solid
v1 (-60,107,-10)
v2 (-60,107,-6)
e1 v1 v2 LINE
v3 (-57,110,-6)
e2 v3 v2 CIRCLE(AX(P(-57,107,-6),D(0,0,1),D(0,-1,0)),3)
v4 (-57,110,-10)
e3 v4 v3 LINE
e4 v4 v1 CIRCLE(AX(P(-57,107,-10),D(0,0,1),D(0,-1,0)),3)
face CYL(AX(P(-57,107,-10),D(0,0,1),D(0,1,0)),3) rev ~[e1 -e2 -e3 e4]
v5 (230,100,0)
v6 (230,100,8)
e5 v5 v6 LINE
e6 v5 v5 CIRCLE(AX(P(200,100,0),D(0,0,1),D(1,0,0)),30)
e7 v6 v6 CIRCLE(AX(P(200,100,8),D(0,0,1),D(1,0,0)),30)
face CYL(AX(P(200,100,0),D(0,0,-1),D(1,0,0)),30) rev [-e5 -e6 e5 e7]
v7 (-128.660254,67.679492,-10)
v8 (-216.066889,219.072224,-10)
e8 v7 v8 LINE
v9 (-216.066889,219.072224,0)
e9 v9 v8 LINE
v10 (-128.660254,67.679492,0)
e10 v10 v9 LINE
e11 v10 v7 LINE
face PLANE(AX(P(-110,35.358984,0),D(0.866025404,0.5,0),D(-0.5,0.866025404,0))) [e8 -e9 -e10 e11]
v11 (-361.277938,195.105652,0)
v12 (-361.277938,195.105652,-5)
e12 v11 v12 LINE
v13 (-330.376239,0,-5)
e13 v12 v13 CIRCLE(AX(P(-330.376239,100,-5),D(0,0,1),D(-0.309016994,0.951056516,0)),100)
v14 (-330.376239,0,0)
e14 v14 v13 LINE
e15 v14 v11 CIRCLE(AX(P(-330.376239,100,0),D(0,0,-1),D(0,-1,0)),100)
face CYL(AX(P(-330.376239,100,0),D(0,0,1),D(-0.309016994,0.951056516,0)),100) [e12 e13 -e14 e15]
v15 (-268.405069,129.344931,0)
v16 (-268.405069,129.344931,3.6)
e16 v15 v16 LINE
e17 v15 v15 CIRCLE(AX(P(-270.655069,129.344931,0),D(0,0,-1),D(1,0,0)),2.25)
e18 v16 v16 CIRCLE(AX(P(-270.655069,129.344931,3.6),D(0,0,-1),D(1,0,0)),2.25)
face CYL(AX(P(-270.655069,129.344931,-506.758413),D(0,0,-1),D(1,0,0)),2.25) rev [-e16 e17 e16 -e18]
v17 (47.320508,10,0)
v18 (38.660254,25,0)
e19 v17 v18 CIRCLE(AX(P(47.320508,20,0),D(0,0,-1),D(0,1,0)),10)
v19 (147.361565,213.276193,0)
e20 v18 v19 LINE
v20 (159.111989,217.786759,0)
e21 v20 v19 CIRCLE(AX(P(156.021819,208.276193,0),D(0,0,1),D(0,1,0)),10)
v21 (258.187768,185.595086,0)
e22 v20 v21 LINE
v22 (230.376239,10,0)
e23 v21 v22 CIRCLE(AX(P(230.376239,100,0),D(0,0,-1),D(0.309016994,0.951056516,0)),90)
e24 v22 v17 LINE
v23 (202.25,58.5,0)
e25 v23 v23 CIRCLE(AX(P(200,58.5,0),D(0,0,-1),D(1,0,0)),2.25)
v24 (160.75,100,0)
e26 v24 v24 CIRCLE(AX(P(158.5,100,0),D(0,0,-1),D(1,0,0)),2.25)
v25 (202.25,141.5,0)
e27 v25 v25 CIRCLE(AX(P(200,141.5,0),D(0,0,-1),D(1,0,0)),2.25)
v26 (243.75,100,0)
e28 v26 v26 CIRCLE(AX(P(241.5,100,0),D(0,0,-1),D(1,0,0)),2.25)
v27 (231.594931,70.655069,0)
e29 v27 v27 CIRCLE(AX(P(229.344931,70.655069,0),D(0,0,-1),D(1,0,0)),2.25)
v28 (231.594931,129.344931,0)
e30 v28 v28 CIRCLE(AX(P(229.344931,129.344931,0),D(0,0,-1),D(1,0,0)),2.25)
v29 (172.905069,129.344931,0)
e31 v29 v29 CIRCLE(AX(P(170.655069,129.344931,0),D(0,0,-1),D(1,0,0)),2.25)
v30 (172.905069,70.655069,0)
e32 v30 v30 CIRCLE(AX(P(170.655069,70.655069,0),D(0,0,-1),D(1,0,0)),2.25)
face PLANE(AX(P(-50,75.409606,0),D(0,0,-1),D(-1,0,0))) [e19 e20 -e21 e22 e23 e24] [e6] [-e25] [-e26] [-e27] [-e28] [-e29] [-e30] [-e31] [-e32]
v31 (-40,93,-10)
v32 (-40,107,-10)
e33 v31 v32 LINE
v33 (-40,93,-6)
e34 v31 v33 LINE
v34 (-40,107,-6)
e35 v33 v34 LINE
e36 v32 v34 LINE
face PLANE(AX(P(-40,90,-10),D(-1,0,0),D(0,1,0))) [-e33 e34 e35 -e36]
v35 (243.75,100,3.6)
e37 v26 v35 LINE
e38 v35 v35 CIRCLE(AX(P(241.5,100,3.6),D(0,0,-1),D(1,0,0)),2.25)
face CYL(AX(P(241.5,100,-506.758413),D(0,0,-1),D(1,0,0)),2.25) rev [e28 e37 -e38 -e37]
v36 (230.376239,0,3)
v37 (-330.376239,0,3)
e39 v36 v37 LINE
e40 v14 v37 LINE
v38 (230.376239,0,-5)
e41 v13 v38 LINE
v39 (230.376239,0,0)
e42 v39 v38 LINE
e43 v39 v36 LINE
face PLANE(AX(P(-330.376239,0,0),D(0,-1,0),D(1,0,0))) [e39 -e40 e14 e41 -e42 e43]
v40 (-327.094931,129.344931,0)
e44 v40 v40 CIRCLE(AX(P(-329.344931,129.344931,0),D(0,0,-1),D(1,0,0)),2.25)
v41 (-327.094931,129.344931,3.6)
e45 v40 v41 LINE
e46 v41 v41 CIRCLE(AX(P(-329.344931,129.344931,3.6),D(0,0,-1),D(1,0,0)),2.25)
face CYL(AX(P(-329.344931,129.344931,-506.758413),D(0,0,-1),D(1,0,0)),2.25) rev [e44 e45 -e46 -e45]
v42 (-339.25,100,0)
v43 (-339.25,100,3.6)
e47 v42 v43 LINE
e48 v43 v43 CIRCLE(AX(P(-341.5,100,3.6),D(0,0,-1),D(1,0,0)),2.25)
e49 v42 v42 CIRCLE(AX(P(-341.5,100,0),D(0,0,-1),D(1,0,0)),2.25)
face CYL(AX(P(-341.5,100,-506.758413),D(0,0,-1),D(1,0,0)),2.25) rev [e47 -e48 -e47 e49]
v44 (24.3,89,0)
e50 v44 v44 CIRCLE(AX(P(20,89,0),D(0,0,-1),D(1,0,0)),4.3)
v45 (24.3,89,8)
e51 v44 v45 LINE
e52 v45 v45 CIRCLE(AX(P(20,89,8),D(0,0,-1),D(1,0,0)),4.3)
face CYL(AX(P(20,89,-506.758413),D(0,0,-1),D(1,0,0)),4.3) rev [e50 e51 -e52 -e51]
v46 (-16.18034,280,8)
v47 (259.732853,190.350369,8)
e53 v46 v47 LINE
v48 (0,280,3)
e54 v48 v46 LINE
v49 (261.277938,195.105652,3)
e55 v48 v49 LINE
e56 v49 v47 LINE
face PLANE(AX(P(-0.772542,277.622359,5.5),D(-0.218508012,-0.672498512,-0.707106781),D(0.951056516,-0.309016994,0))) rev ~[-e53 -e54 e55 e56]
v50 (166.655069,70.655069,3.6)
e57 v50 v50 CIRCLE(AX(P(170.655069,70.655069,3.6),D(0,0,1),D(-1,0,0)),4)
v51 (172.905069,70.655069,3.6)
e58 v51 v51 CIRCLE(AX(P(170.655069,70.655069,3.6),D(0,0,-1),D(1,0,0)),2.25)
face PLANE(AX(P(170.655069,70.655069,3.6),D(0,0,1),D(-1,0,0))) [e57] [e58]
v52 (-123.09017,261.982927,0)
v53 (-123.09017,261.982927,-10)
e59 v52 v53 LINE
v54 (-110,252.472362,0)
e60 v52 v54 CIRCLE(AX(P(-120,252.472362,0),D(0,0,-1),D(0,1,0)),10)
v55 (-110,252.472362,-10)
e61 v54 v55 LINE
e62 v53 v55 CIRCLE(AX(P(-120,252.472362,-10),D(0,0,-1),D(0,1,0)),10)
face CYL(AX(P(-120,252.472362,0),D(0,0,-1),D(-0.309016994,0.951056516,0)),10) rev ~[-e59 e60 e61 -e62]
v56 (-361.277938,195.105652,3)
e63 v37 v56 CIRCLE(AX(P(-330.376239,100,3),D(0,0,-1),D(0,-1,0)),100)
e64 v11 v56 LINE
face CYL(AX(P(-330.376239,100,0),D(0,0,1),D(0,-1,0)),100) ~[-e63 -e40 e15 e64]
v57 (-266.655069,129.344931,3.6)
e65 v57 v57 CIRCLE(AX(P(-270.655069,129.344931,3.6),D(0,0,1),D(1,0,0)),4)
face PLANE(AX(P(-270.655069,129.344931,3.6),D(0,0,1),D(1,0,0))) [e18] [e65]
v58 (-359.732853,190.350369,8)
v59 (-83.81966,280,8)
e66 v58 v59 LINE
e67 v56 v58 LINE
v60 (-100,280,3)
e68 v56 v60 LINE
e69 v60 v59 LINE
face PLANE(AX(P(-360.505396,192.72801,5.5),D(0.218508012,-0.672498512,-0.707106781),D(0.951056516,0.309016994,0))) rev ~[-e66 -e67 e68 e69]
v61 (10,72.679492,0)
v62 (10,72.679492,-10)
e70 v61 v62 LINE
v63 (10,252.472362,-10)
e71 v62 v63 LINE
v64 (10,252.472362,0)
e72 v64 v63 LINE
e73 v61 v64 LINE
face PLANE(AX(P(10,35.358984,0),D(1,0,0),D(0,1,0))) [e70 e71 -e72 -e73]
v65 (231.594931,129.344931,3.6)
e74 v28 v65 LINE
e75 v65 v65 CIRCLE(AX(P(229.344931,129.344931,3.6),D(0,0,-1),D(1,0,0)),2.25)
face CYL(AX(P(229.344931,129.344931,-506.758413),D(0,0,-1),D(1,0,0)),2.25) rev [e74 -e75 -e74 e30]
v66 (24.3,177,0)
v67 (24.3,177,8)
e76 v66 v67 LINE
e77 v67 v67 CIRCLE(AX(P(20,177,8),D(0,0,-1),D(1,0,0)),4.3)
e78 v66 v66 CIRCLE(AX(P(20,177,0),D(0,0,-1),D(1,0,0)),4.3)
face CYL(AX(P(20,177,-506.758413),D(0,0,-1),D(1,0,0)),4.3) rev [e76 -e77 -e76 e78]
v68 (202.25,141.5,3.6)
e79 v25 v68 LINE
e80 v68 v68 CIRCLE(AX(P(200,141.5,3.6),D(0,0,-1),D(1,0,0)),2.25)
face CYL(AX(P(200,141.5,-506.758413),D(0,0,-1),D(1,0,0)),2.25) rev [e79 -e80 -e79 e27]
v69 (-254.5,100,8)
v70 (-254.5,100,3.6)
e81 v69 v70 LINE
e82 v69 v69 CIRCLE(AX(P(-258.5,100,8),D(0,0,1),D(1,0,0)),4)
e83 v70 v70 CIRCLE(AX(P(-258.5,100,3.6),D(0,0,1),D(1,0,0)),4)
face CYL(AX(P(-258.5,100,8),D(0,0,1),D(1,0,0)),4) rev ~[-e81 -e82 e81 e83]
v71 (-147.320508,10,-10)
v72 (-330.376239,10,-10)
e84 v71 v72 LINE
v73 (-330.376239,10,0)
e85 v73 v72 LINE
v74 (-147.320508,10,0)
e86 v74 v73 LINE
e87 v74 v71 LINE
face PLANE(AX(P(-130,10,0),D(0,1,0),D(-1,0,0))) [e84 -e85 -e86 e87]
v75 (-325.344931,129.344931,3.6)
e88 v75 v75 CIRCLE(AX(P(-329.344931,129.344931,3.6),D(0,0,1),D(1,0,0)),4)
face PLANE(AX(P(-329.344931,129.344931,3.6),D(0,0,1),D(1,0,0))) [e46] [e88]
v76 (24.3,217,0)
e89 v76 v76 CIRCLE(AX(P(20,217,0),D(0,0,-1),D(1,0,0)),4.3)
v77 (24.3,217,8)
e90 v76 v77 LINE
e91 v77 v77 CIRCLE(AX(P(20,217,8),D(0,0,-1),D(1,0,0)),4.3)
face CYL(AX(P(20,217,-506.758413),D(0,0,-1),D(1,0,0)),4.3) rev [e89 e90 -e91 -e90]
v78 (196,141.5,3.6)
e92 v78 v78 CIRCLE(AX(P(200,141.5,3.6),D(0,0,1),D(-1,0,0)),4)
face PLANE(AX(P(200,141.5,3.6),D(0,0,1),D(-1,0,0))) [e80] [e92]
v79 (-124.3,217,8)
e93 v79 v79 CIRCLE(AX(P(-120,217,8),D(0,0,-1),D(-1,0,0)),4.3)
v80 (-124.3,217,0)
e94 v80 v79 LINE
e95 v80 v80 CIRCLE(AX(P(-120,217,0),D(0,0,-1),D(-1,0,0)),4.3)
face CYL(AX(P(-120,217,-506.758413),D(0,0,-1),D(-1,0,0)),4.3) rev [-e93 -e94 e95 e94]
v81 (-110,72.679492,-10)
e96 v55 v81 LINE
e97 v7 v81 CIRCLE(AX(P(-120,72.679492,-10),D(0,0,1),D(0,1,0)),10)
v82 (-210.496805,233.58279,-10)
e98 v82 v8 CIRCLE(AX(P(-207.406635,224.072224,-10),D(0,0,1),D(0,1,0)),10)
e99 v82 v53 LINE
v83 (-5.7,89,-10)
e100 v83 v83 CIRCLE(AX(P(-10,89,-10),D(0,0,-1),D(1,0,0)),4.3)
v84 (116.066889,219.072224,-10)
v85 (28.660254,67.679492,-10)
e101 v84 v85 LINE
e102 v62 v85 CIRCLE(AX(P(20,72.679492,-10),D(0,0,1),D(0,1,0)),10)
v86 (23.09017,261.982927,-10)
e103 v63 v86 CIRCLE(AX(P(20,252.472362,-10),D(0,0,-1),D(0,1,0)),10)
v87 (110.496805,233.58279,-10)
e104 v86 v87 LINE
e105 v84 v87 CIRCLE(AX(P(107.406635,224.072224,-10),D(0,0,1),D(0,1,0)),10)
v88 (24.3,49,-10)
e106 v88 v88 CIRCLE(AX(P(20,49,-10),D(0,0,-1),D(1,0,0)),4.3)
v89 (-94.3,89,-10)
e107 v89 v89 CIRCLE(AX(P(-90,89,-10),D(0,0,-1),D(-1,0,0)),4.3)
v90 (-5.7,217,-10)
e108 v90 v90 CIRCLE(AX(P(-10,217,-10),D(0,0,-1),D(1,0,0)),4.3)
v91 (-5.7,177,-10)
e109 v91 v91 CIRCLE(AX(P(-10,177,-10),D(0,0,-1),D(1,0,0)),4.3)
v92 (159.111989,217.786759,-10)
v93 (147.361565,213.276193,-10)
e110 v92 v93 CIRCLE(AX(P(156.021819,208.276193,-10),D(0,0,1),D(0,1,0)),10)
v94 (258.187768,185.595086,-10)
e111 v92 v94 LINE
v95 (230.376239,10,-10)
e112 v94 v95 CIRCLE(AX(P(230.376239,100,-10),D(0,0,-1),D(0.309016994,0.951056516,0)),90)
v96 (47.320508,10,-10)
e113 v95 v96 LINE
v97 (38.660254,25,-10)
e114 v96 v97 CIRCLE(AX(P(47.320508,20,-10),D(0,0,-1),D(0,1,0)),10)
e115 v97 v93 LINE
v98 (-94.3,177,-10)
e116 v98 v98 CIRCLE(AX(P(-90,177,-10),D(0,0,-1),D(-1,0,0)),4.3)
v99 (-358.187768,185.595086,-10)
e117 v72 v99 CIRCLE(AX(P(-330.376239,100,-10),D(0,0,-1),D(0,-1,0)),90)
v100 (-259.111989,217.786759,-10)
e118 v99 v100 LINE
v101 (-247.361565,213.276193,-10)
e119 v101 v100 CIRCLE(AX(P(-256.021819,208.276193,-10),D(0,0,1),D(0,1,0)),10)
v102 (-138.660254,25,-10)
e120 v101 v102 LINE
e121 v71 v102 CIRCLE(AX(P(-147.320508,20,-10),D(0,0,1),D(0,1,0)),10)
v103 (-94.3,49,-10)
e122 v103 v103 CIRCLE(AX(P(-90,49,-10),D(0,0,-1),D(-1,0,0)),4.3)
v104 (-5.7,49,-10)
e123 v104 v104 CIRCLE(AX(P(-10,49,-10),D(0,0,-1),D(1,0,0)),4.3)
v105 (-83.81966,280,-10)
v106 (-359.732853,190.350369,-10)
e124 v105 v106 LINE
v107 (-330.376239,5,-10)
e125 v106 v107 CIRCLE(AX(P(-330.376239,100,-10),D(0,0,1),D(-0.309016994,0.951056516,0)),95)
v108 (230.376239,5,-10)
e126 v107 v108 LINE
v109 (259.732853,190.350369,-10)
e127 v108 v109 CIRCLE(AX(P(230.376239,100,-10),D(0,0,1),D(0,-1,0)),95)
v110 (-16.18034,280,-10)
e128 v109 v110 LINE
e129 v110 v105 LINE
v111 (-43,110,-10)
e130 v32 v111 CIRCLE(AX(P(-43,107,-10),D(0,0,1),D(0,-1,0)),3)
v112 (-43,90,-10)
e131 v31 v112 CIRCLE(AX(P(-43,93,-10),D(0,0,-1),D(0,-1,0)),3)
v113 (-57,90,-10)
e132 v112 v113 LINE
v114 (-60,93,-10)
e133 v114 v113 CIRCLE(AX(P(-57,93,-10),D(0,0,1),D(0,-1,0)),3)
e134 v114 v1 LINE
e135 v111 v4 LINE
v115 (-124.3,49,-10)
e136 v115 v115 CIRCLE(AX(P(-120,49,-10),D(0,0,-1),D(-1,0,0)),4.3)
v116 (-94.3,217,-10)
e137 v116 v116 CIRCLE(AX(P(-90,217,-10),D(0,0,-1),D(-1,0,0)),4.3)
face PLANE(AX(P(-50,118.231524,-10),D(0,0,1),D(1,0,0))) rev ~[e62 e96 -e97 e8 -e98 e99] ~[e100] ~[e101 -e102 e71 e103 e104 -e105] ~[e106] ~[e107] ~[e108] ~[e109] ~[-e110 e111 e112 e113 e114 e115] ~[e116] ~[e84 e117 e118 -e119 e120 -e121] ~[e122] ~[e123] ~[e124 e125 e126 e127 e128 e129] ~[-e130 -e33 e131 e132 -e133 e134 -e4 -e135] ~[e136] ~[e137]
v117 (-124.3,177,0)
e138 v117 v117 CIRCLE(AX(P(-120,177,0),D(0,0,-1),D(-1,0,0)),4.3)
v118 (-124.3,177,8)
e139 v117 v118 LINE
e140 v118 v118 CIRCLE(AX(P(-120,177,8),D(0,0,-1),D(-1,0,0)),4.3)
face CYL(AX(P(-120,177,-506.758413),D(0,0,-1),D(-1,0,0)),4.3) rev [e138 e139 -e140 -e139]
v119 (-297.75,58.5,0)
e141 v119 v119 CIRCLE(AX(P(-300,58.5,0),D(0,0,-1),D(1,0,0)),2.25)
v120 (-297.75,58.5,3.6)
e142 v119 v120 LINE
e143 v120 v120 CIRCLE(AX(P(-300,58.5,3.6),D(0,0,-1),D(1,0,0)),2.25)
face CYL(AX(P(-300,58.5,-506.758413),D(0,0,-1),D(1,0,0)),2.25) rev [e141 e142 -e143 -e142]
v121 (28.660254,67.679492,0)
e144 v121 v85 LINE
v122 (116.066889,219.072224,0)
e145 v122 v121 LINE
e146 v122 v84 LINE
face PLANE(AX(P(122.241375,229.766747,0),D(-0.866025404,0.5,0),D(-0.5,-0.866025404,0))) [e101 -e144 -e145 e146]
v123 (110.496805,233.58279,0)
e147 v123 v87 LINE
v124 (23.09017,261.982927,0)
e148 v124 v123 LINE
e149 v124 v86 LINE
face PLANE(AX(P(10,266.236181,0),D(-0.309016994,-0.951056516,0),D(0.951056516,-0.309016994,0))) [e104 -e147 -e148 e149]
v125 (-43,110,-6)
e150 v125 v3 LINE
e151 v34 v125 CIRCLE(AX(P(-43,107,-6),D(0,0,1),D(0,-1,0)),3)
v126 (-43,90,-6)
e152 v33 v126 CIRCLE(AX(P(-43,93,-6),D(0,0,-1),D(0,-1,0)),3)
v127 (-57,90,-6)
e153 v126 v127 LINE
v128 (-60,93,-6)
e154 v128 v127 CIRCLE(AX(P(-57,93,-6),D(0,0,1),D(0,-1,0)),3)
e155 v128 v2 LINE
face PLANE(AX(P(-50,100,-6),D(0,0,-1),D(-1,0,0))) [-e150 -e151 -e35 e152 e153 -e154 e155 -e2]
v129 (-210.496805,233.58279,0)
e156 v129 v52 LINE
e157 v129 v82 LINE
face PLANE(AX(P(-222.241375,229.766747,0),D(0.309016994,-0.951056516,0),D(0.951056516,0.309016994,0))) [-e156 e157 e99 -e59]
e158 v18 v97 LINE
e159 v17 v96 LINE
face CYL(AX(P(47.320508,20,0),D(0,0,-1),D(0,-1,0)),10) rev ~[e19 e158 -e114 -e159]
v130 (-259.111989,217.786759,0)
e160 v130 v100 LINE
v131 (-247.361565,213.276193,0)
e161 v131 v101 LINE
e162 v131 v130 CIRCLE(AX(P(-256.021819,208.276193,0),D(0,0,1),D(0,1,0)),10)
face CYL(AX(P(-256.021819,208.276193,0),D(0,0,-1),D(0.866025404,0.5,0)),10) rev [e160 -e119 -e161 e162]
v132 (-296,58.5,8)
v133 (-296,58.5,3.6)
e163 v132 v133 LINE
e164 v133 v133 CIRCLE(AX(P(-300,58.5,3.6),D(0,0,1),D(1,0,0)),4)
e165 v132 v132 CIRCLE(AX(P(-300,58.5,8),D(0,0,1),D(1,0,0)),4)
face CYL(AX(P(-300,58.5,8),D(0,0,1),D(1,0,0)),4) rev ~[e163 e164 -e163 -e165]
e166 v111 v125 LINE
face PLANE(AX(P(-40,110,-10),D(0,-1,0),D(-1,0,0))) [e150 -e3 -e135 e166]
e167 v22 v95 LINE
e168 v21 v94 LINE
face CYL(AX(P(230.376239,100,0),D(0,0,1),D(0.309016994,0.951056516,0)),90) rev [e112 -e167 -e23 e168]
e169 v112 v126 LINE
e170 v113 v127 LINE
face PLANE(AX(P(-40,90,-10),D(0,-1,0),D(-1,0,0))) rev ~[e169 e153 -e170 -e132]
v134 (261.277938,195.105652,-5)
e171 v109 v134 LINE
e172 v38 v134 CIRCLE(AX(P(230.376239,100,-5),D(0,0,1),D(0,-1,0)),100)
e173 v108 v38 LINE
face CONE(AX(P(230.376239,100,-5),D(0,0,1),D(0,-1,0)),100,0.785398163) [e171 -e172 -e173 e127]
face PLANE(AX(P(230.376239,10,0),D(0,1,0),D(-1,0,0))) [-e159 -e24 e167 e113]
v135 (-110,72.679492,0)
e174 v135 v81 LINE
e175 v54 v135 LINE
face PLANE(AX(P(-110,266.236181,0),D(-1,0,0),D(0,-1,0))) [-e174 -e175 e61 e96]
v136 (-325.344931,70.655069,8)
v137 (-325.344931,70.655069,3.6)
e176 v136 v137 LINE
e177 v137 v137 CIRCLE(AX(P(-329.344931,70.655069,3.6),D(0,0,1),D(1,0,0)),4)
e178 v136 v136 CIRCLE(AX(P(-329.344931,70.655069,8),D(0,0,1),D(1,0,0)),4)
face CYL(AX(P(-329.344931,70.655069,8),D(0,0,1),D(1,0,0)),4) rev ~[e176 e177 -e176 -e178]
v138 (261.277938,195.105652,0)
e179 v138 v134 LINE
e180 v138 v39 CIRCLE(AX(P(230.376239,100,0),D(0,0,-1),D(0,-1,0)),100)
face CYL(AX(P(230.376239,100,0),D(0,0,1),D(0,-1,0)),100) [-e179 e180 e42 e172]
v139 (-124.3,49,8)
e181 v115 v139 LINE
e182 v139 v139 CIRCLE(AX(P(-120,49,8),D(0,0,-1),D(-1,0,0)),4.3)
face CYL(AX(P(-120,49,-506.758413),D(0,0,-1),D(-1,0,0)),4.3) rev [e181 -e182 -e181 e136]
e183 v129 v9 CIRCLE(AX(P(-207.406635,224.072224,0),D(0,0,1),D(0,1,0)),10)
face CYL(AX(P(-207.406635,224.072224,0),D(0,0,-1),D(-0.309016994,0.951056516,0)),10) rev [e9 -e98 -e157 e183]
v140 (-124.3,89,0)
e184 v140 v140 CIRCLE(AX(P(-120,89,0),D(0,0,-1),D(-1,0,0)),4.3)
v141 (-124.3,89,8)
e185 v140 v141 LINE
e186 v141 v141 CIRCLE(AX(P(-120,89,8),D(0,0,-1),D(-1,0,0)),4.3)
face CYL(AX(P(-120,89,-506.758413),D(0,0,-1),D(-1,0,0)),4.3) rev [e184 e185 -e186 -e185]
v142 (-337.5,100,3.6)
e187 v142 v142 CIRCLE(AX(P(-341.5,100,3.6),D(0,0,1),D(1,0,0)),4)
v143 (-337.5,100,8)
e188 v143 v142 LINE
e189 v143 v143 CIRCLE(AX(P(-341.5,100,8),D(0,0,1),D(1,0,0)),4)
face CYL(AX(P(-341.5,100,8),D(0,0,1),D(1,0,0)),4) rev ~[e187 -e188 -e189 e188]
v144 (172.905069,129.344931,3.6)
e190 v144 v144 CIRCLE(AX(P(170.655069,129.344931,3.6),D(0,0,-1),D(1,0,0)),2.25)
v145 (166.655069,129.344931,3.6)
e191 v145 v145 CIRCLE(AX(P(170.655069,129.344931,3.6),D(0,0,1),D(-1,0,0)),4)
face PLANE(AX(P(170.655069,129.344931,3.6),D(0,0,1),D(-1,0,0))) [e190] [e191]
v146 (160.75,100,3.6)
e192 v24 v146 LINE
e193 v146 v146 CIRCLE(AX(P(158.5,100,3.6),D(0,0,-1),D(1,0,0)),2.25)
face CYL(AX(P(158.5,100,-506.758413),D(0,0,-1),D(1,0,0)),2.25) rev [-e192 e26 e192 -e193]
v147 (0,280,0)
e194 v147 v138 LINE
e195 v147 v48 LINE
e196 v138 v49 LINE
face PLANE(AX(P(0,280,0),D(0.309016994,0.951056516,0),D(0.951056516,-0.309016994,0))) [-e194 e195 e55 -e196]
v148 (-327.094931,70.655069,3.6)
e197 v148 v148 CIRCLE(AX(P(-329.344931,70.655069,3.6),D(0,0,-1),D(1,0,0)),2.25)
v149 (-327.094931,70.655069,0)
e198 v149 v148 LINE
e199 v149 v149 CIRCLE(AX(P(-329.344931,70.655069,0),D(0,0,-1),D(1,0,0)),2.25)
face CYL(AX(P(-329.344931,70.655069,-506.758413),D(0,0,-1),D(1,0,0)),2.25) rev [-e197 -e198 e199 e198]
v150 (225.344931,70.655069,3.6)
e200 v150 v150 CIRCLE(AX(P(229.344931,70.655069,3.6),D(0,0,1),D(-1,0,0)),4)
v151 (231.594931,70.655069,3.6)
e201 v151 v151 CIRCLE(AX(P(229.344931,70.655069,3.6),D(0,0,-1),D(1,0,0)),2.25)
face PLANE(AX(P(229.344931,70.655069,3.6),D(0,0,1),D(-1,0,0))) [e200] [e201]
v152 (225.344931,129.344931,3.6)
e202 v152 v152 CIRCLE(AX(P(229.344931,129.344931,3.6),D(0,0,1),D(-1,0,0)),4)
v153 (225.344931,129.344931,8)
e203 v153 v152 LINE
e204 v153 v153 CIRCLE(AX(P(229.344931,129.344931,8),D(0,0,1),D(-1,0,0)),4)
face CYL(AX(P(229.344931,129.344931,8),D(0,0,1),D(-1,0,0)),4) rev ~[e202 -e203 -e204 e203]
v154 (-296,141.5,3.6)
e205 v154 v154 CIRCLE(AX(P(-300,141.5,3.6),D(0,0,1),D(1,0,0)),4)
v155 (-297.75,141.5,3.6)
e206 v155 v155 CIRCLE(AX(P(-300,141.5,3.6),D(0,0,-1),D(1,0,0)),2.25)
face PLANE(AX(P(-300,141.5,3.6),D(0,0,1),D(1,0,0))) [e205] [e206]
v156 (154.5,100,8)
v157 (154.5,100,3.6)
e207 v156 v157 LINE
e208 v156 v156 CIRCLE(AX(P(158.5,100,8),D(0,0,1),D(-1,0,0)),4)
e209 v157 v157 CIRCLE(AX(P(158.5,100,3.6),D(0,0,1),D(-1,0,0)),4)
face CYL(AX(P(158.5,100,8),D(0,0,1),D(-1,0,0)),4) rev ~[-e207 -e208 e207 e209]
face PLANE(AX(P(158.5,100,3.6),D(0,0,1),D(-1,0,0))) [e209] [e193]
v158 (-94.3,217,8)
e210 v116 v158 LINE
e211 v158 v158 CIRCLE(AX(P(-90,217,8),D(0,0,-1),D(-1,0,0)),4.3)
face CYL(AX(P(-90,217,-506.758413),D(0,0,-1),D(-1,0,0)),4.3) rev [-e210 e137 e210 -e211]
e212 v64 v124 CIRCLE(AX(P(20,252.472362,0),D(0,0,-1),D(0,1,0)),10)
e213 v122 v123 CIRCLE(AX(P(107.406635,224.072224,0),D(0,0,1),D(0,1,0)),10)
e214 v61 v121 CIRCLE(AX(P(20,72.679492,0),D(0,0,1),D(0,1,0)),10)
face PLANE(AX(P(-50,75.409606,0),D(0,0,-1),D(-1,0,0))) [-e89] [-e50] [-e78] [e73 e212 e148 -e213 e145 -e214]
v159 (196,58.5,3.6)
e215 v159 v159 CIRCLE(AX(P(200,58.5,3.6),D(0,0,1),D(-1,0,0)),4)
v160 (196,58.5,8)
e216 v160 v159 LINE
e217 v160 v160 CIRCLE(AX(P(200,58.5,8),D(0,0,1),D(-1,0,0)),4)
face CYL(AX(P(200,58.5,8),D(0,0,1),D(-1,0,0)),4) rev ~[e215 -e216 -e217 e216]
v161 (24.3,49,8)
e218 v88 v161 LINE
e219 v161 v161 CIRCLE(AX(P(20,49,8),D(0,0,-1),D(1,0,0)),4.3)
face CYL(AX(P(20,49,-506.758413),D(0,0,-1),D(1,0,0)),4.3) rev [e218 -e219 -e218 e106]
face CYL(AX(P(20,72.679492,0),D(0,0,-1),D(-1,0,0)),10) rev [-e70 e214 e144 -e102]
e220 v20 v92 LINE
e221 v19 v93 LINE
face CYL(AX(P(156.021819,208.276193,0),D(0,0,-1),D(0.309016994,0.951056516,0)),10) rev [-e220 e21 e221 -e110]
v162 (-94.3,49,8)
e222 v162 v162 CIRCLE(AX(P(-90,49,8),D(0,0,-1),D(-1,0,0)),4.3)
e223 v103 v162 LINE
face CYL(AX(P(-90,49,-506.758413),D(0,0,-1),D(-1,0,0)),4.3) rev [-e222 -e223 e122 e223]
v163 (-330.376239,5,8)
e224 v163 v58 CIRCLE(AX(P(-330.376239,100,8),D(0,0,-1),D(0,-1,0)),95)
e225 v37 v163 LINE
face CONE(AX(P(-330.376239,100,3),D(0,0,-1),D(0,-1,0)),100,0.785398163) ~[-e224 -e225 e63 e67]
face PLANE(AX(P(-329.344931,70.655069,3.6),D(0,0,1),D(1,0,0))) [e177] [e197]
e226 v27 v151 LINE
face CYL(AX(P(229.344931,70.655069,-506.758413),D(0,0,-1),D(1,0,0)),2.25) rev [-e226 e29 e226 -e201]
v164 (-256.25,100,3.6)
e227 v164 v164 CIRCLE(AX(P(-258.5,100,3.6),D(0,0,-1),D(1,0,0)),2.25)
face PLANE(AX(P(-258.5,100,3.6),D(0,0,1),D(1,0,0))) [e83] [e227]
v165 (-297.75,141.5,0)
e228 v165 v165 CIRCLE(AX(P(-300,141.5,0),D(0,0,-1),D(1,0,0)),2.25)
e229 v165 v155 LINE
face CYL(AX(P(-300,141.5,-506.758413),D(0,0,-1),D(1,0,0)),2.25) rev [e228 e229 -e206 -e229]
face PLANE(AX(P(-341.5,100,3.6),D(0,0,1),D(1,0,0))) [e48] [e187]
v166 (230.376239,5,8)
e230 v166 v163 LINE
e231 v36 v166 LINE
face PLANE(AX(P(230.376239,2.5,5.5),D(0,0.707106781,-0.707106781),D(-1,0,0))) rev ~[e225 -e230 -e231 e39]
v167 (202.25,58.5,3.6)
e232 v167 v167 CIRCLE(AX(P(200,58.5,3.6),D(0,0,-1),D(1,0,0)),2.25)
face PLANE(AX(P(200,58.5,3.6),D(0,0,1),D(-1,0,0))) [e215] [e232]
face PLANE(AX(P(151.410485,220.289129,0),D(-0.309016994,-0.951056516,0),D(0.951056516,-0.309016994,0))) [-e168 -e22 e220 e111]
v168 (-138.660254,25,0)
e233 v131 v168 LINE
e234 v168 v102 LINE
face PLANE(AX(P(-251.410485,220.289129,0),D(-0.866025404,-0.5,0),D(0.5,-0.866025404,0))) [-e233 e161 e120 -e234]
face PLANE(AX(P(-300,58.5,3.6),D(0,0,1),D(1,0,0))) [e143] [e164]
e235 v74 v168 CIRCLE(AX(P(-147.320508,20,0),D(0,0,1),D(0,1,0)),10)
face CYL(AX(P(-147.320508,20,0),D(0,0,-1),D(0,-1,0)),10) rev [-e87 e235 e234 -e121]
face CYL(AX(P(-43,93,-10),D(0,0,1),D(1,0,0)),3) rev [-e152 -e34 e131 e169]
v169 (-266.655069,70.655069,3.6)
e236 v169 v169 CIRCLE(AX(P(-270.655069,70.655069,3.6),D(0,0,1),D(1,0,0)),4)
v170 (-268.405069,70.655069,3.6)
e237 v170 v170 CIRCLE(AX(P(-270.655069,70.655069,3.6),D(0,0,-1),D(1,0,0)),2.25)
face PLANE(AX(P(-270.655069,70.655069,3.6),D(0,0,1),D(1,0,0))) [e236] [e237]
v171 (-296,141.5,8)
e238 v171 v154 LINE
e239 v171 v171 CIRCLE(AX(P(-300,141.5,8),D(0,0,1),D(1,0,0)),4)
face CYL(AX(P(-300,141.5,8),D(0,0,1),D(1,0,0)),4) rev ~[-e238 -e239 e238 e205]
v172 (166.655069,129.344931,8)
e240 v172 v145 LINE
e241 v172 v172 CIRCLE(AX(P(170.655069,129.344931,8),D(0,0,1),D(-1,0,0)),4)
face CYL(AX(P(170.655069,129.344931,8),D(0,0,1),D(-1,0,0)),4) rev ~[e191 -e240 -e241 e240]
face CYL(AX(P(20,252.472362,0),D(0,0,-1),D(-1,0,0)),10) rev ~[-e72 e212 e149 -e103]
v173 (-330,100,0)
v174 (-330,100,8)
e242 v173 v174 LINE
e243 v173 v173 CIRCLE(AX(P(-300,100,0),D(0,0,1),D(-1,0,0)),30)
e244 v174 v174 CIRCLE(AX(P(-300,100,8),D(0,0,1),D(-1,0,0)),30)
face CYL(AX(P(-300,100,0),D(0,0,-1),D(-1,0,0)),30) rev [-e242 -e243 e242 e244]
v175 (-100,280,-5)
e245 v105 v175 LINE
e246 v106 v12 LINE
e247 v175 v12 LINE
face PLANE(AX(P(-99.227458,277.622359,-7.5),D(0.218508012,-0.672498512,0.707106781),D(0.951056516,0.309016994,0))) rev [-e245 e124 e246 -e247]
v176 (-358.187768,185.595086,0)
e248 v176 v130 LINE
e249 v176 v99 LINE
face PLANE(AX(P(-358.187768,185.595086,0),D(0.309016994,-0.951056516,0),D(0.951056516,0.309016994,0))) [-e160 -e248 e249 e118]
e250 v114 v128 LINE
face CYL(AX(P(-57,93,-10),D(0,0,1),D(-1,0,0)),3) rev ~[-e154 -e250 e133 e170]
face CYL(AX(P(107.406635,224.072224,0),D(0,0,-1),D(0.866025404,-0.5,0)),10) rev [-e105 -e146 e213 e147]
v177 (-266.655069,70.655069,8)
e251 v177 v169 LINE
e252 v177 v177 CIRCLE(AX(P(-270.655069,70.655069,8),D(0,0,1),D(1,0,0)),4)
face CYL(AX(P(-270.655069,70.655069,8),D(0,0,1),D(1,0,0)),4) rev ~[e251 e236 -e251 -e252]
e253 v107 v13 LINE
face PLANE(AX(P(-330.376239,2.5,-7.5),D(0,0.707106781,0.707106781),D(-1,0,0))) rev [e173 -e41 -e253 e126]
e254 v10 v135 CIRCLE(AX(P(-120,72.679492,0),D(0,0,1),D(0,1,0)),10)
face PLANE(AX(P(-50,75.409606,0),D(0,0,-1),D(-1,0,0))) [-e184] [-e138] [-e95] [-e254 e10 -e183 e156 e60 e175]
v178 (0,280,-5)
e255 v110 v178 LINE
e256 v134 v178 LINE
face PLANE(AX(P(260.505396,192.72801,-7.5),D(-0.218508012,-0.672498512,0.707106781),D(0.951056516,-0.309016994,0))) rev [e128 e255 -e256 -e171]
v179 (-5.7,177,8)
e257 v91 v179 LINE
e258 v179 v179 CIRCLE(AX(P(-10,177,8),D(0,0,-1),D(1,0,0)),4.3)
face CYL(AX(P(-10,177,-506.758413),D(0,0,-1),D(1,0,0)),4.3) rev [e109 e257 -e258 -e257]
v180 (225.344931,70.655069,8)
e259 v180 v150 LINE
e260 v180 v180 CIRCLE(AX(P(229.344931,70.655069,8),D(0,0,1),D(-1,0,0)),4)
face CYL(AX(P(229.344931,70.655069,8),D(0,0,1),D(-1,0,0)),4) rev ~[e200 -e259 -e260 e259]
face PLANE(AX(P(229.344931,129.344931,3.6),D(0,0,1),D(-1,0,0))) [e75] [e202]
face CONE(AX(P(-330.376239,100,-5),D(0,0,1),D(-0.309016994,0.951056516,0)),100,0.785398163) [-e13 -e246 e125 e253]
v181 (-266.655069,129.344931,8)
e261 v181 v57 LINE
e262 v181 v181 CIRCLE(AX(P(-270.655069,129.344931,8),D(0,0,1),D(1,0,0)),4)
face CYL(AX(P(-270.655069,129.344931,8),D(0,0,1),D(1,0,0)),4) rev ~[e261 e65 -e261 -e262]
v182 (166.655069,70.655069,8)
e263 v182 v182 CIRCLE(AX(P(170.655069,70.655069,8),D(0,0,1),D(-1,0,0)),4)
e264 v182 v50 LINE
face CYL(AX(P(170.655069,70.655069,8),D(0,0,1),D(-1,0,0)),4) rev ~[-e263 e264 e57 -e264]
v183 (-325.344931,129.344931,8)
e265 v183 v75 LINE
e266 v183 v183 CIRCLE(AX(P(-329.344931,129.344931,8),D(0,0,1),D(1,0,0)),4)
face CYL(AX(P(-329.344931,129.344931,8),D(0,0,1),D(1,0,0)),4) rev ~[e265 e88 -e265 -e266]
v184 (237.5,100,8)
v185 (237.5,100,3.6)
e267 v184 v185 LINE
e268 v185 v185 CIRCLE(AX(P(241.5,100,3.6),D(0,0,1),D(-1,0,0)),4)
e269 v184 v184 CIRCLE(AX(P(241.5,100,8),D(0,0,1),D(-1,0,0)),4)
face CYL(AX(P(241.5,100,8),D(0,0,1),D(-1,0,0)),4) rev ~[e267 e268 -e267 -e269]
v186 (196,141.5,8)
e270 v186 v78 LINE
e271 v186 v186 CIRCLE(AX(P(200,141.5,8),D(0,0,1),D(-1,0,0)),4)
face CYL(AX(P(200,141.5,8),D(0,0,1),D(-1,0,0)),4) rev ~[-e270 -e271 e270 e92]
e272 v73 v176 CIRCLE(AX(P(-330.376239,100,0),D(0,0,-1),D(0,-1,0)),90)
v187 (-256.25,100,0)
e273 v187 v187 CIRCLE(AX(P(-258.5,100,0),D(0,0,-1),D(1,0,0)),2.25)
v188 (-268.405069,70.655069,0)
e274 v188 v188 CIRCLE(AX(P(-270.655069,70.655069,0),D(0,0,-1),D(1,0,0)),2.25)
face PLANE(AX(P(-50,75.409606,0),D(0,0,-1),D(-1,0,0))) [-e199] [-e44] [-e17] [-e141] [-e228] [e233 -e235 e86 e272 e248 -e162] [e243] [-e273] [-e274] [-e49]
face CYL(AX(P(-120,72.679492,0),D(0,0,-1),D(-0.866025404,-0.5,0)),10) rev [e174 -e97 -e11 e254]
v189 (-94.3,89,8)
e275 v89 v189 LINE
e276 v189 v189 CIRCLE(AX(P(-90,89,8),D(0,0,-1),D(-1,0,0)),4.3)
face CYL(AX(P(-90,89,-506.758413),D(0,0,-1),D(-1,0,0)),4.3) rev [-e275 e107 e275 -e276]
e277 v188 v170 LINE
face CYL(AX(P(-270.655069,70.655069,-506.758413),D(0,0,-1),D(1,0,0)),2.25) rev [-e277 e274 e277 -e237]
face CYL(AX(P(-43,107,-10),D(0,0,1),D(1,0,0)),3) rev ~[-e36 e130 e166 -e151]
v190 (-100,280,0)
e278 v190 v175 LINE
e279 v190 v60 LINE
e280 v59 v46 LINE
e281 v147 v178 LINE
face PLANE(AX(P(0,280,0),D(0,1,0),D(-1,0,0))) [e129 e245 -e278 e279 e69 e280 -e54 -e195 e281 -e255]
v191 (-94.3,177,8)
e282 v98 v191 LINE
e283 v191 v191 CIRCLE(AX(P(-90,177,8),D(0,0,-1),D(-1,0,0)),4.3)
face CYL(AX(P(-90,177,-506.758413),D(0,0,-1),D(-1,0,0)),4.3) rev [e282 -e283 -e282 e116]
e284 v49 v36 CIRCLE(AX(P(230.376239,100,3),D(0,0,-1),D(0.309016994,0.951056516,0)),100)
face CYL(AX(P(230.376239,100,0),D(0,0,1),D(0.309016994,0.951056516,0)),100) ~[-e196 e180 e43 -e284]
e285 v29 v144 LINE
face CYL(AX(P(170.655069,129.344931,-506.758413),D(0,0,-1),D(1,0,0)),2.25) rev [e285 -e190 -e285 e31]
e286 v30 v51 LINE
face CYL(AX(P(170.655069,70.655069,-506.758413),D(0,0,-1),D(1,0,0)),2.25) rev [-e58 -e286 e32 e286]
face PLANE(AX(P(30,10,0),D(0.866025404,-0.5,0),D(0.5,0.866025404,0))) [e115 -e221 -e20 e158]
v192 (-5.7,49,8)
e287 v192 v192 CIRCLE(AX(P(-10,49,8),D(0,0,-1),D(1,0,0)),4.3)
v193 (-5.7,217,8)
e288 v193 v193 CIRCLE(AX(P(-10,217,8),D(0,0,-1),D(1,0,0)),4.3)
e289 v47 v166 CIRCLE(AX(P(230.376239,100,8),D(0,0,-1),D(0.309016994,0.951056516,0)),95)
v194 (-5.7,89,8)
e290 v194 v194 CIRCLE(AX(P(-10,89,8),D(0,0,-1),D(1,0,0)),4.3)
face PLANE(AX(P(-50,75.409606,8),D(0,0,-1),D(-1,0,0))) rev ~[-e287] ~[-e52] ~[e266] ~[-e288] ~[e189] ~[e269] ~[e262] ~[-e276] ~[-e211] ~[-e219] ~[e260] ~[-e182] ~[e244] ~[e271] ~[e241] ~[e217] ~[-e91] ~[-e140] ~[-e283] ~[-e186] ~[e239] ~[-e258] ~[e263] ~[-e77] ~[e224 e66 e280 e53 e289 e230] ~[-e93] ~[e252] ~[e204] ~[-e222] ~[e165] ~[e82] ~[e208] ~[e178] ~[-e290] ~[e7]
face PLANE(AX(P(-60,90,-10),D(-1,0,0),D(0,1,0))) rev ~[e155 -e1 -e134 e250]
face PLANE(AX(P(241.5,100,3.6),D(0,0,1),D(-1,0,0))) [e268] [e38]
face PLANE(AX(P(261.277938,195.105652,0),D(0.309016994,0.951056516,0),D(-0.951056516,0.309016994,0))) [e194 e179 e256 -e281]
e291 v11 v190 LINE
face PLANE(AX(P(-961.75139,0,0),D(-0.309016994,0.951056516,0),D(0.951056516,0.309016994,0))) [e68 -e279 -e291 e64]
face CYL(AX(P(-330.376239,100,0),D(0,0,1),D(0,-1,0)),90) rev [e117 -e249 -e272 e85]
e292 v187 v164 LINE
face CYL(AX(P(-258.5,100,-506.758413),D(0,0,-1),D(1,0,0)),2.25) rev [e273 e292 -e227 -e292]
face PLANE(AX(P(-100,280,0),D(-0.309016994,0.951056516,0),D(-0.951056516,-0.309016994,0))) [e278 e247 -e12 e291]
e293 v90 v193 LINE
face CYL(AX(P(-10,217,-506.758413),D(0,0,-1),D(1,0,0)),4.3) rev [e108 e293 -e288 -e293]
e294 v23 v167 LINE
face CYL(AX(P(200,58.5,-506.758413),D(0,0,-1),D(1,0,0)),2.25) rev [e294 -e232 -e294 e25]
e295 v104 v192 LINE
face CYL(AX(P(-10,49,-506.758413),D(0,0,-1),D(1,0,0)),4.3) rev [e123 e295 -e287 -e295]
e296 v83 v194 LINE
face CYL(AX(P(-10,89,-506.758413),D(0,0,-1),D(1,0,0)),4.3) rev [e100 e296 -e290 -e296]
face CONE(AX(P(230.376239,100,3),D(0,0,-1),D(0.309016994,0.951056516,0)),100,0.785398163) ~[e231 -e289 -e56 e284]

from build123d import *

# Parameters (mm, degrees)
SKETCH_1_R               = 30
EXTRUDE_1_DEPTH          = 8
FILLET_1_R               = 100
FILLET_3_R               = 100
EXTRUDE_2_DEPTH          = 10
FILLET_2_R               = 10
CHAMFER_1_SIZE           = 5
CUT_EXTRUDE_4_DEPTH      = 514.758413114
CUT_EXTRUDE_4_DEPTH_BACK = 514.758413114
SKETCH_7_R               = 4.3
CUT_EXTRUDE_5_DEPTH      = 514.758413114
CUT_EXTRUDE_5_DEPTH_BACK = 514.758413114
SKETCH_8_R               = 2.25
SKETCH_9_R               = 4
CUT_EXTRUDE_6_DEPTH      = 4.4
SKETCH_10_W              = 20
SKETCH_10_H              = 20
CUT_EXTRUDE_7_DEPTH      = 4
FILLET_4_R               = 3


with BuildPart() as part:
    # 草图1 → 凸台-拉伸1 (new body)
    with BuildSketch(Plane.XY):
        Polygon((0, 280), (861.751390409, 0), (0, 0), (-100, 0), (-961.751390409, 0), (-100, 280), align=None)
        with Locations((200, 100)):
            Circle(SKETCH_1_R, mode=Mode.SUBTRACT)
        with Locations(Location((-300, 100, 0), (0, 0, 180))):
            Circle(SKETCH_1_R, mode=Mode.SUBTRACT)
    extrude(amount=EXTRUDE_1_DEPTH)

    # 圆角1
    fillet_1_edges = [part.edges().sort_by_distance(p)[0] for p in [
        (861.751390409, 0, 4),
    ]]
    fillet(fillet_1_edges, radius=FILLET_1_R)

    # 圆角3
    fillet_3_edges = [part.edges().sort_by_distance(p)[0] for p in [
        (-961.751390409, 0, 4),
    ]]
    fillet(fillet_3_edges, radius=FILLET_3_R)

    # 草图2 → 凸台-拉伸2 (add)
    with BuildSketch(Plane.XY):
        with BuildLine():
            Line((0, 280), (-100, 280))
            Line((-100, 280), (-361.277938379, 195.10565163))
            ThreePointArc((-361.277938379, 195.10565163), (-429.145073001, 84.356553496), (-330.376238942, 0))
            Line((-330.376238942, 0), (230.376238942, 0))
            ThreePointArc((230.376238942, 0), (329.145073001, 84.356553496), (261.277938379, 195.10565163))
            Line((261.277938379, 195.10565163), (0, 280))
        make_face()
        Polygon((10, 266.236180795), (122.241374643, 229.766747442), (10, 35.358983849), align=None, mode=Mode.SUBTRACT)
        with BuildLine():
            Line((230.376238942, 10), (30, 10))
            Line((30, 10), (151.410485182, 220.289128906))
            Line((151.410485182, 220.289128906), (258.187768435, 185.595086467))
            ThreePointArc((258.187768435, 185.595086467), (319.268189595, 85.920898146), (230.376238942, 10))
        make_face(mode=Mode.SUBTRACT)
        Polygon((-110, 266.236180795), (-110, 35.358983849), (-222.241374643, 229.766747442), align=None, mode=Mode.SUBTRACT)
        with BuildLine():
            Line((-358.187768435, 185.595086467), (-251.410485182, 220.289128906))
            Line((-251.410485182, 220.289128906), (-130, 10))
            Line((-130, 10), (-330.376238942, 10))
            ThreePointArc((-330.376238942, 10), (-419.268189595, 85.920898146), (-358.187768435, 185.595086467))
        make_face(mode=Mode.SUBTRACT)
    extrude(amount=-EXTRUDE_2_DEPTH)

    # 圆角2
    fillet_2_edges = [part.edges().sort_by_distance(p)[0] for p in [
        (-110, 35.358983849, -5),
        (-110, 266.236180795, -5),
        (-130, 10, -5),
        (10, 266.236180795, -5),
        (10, 35.358983849, -5),
        (151.410485182, 220.289128906, -5),
        (30, 10, -5),
        (-251.410485182, 220.289128906, -5),
        (122.241374643, 229.766747442, -5),
        (-222.241374643, 229.766747442, -5),
    ]]
    fillet(fillet_2_edges, radius=FILLET_2_R)

    # 倒角1
    chamfer_1_edges = [part.edges().sort_by_distance(p)[0] for p in [
        (-230.63896919, 237.552825815, 8),
        (130.63896919, 237.552825815, 8),
        (329.145073001, 84.356553496, 8),
        (-50, 0, 8),
        (-429.145073001, 84.356553496, 8),
        (-230.63896919, 237.552825815, -10),
        (130.63896919, 237.552825815, -10),
        (329.145073001, 84.356553496, -10),
        (-50, 0, -10),
        (-429.145073001, 84.356553496, -10),
    ]]
    chamfer(chamfer_1_edges, length=CHAMFER_1_SIZE)

    # 草图7 → 切除-拉伸4 (cut, two sides: drawn at the far end of the back side and taken through both)
    with BuildSketch(Plane.XY.offset(8).offset(-CUT_EXTRUDE_4_DEPTH_BACK)):
        with Locations((20, 217)):
            Circle(SKETCH_7_R)
        with Locations((-10, 217)):
            Circle(SKETCH_7_R)
        with Locations((20, 177)):
            Circle(SKETCH_7_R)
        with Locations((-10, 177)):
            Circle(SKETCH_7_R)
        with Locations((20, 89)):
            Circle(SKETCH_7_R)
        with Locations((-10, 89)):
            Circle(SKETCH_7_R)
        with Locations((20, 49)):
            Circle(SKETCH_7_R)
        with Locations((-10, 49)):
            Circle(SKETCH_7_R)
        with Locations(Location((-90, 49, 0), (0, 0, 180))):
            Circle(SKETCH_7_R)
        with Locations(Location((-120, 49, 0), (0, 0, 180))):
            Circle(SKETCH_7_R)
        with Locations(Location((-90, 89, 0), (0, 0, 180))):
            Circle(SKETCH_7_R)
        with Locations(Location((-120, 89, 0), (0, 0, 180))):
            Circle(SKETCH_7_R)
        with Locations(Location((-90, 177, 0), (0, 0, 180))):
            Circle(SKETCH_7_R)
        with Locations(Location((-120, 177, 0), (0, 0, 180))):
            Circle(SKETCH_7_R)
        with Locations(Location((-90, 217, 0), (0, 0, 180))):
            Circle(SKETCH_7_R)
        with Locations(Location((-120, 217, 0), (0, 0, 180))):
            Circle(SKETCH_7_R)
    extrude(amount=CUT_EXTRUDE_4_DEPTH + CUT_EXTRUDE_4_DEPTH_BACK, mode=Mode.SUBTRACT)

    # 草图8 → 切除-拉伸5 (cut, two sides: drawn at the far end of the back side and taken through both)
    with BuildSketch(Plane.XY.offset(8).offset(-CUT_EXTRUDE_5_DEPTH_BACK)):
        with Locations((200, 141.5)):
            Circle(SKETCH_8_R)
        with Locations((229.344931419, 129.344931419)):
            Circle(SKETCH_8_R)
        with Locations((241.5, 100)):
            Circle(SKETCH_8_R)
        with Locations((229.344931419, 70.655068581)):
            Circle(SKETCH_8_R)
        with Locations((200, 58.5)):
            Circle(SKETCH_8_R)
        with Locations((170.655068581, 70.655068581)):
            Circle(SKETCH_8_R)
        with Locations((158.5, 100)):
            Circle(SKETCH_8_R)
        with Locations((170.655068581, 129.344931419)):
            Circle(SKETCH_8_R)
        with Locations((-270.655068581, 129.344931419)):
            Circle(SKETCH_8_R)
        with Locations((-258.5, 100)):
            Circle(SKETCH_8_R)
        with Locations((-270.655068581, 70.655068581)):
            Circle(SKETCH_8_R)
        with Locations((-300, 58.5)):
            Circle(SKETCH_8_R)
        with Locations((-329.344931419, 70.655068581)):
            Circle(SKETCH_8_R)
        with Locations((-341.5, 100)):
            Circle(SKETCH_8_R)
        with Locations((-329.344931419, 129.344931419)):
            Circle(SKETCH_8_R)
        with Locations((-300, 141.5)):
            Circle(SKETCH_8_R)
    extrude(amount=CUT_EXTRUDE_5_DEPTH + CUT_EXTRUDE_5_DEPTH_BACK, mode=Mode.SUBTRACT)

    # 草图9 → 切除-拉伸6 (cut)
    with BuildSketch(Plane.XY.offset(8)):
        with Locations((-300, 141.5)):
            Circle(SKETCH_9_R)
        with Locations((-270.655068581, 129.344931419)):
            Circle(SKETCH_9_R)
        with Locations((-258.5, 100)):
            Circle(SKETCH_9_R)
        with Locations((-270.655068581, 70.655068581)):
            Circle(SKETCH_9_R)
        with Locations((-300, 58.5)):
            Circle(SKETCH_9_R)
        with Locations((-329.344931419, 70.655068581)):
            Circle(SKETCH_9_R)
        with Locations((-341.5, 100)):
            Circle(SKETCH_9_R)
        with Locations((-329.344931419, 129.344931419)):
            Circle(SKETCH_9_R)
        with Locations(Location((229.344931419, 129.344931419, 0), (0, 0, 180))):
            Circle(SKETCH_9_R)
        with Locations(Location((241.5, 100, 0), (0, 0, 180))):
            Circle(SKETCH_9_R)
        with Locations(Location((229.344931419, 70.655068581, 0), (0, 0, 180))):
            Circle(SKETCH_9_R)
        with Locations(Location((200, 58.5, 0), (0, 0, 180))):
            Circle(SKETCH_9_R)
        with Locations(Location((170.655068581, 70.655068581, 0), (0, 0, 180))):
            Circle(SKETCH_9_R)
        with Locations(Location((158.5, 100, 0), (0, 0, 180))):
            Circle(SKETCH_9_R)
        with Locations(Location((170.655068581, 129.344931419, 0), (0, 0, 180))):
            Circle(SKETCH_9_R)
        with Locations(Location((200, 141.5, 0), (0, 0, 180))):
            Circle(SKETCH_9_R)
    extrude(amount=-CUT_EXTRUDE_6_DEPTH, mode=Mode.SUBTRACT)

    # 草图10 → 切除-拉伸7 (cut)
    with BuildSketch(Plane(origin=(0, 0, -10), x_dir=(-1, 0, 0), z_dir=(0, 0, -1))):
        with Locations((50, 100)):
            Rectangle(SKETCH_10_W, SKETCH_10_H)
    extrude(amount=-CUT_EXTRUDE_7_DEPTH, mode=Mode.SUBTRACT)

    # 圆角4
    fillet_4_edges = [part.edges().sort_by_distance(p)[0] for p in [
        (-40, 90, -8),
        (-40, 110, -8),
        (-60, 110, -8),
        (-60, 90, -8),
    ]]
    fillet(fillet_4_edges, radius=FILLET_4_R)


solid = part.part
